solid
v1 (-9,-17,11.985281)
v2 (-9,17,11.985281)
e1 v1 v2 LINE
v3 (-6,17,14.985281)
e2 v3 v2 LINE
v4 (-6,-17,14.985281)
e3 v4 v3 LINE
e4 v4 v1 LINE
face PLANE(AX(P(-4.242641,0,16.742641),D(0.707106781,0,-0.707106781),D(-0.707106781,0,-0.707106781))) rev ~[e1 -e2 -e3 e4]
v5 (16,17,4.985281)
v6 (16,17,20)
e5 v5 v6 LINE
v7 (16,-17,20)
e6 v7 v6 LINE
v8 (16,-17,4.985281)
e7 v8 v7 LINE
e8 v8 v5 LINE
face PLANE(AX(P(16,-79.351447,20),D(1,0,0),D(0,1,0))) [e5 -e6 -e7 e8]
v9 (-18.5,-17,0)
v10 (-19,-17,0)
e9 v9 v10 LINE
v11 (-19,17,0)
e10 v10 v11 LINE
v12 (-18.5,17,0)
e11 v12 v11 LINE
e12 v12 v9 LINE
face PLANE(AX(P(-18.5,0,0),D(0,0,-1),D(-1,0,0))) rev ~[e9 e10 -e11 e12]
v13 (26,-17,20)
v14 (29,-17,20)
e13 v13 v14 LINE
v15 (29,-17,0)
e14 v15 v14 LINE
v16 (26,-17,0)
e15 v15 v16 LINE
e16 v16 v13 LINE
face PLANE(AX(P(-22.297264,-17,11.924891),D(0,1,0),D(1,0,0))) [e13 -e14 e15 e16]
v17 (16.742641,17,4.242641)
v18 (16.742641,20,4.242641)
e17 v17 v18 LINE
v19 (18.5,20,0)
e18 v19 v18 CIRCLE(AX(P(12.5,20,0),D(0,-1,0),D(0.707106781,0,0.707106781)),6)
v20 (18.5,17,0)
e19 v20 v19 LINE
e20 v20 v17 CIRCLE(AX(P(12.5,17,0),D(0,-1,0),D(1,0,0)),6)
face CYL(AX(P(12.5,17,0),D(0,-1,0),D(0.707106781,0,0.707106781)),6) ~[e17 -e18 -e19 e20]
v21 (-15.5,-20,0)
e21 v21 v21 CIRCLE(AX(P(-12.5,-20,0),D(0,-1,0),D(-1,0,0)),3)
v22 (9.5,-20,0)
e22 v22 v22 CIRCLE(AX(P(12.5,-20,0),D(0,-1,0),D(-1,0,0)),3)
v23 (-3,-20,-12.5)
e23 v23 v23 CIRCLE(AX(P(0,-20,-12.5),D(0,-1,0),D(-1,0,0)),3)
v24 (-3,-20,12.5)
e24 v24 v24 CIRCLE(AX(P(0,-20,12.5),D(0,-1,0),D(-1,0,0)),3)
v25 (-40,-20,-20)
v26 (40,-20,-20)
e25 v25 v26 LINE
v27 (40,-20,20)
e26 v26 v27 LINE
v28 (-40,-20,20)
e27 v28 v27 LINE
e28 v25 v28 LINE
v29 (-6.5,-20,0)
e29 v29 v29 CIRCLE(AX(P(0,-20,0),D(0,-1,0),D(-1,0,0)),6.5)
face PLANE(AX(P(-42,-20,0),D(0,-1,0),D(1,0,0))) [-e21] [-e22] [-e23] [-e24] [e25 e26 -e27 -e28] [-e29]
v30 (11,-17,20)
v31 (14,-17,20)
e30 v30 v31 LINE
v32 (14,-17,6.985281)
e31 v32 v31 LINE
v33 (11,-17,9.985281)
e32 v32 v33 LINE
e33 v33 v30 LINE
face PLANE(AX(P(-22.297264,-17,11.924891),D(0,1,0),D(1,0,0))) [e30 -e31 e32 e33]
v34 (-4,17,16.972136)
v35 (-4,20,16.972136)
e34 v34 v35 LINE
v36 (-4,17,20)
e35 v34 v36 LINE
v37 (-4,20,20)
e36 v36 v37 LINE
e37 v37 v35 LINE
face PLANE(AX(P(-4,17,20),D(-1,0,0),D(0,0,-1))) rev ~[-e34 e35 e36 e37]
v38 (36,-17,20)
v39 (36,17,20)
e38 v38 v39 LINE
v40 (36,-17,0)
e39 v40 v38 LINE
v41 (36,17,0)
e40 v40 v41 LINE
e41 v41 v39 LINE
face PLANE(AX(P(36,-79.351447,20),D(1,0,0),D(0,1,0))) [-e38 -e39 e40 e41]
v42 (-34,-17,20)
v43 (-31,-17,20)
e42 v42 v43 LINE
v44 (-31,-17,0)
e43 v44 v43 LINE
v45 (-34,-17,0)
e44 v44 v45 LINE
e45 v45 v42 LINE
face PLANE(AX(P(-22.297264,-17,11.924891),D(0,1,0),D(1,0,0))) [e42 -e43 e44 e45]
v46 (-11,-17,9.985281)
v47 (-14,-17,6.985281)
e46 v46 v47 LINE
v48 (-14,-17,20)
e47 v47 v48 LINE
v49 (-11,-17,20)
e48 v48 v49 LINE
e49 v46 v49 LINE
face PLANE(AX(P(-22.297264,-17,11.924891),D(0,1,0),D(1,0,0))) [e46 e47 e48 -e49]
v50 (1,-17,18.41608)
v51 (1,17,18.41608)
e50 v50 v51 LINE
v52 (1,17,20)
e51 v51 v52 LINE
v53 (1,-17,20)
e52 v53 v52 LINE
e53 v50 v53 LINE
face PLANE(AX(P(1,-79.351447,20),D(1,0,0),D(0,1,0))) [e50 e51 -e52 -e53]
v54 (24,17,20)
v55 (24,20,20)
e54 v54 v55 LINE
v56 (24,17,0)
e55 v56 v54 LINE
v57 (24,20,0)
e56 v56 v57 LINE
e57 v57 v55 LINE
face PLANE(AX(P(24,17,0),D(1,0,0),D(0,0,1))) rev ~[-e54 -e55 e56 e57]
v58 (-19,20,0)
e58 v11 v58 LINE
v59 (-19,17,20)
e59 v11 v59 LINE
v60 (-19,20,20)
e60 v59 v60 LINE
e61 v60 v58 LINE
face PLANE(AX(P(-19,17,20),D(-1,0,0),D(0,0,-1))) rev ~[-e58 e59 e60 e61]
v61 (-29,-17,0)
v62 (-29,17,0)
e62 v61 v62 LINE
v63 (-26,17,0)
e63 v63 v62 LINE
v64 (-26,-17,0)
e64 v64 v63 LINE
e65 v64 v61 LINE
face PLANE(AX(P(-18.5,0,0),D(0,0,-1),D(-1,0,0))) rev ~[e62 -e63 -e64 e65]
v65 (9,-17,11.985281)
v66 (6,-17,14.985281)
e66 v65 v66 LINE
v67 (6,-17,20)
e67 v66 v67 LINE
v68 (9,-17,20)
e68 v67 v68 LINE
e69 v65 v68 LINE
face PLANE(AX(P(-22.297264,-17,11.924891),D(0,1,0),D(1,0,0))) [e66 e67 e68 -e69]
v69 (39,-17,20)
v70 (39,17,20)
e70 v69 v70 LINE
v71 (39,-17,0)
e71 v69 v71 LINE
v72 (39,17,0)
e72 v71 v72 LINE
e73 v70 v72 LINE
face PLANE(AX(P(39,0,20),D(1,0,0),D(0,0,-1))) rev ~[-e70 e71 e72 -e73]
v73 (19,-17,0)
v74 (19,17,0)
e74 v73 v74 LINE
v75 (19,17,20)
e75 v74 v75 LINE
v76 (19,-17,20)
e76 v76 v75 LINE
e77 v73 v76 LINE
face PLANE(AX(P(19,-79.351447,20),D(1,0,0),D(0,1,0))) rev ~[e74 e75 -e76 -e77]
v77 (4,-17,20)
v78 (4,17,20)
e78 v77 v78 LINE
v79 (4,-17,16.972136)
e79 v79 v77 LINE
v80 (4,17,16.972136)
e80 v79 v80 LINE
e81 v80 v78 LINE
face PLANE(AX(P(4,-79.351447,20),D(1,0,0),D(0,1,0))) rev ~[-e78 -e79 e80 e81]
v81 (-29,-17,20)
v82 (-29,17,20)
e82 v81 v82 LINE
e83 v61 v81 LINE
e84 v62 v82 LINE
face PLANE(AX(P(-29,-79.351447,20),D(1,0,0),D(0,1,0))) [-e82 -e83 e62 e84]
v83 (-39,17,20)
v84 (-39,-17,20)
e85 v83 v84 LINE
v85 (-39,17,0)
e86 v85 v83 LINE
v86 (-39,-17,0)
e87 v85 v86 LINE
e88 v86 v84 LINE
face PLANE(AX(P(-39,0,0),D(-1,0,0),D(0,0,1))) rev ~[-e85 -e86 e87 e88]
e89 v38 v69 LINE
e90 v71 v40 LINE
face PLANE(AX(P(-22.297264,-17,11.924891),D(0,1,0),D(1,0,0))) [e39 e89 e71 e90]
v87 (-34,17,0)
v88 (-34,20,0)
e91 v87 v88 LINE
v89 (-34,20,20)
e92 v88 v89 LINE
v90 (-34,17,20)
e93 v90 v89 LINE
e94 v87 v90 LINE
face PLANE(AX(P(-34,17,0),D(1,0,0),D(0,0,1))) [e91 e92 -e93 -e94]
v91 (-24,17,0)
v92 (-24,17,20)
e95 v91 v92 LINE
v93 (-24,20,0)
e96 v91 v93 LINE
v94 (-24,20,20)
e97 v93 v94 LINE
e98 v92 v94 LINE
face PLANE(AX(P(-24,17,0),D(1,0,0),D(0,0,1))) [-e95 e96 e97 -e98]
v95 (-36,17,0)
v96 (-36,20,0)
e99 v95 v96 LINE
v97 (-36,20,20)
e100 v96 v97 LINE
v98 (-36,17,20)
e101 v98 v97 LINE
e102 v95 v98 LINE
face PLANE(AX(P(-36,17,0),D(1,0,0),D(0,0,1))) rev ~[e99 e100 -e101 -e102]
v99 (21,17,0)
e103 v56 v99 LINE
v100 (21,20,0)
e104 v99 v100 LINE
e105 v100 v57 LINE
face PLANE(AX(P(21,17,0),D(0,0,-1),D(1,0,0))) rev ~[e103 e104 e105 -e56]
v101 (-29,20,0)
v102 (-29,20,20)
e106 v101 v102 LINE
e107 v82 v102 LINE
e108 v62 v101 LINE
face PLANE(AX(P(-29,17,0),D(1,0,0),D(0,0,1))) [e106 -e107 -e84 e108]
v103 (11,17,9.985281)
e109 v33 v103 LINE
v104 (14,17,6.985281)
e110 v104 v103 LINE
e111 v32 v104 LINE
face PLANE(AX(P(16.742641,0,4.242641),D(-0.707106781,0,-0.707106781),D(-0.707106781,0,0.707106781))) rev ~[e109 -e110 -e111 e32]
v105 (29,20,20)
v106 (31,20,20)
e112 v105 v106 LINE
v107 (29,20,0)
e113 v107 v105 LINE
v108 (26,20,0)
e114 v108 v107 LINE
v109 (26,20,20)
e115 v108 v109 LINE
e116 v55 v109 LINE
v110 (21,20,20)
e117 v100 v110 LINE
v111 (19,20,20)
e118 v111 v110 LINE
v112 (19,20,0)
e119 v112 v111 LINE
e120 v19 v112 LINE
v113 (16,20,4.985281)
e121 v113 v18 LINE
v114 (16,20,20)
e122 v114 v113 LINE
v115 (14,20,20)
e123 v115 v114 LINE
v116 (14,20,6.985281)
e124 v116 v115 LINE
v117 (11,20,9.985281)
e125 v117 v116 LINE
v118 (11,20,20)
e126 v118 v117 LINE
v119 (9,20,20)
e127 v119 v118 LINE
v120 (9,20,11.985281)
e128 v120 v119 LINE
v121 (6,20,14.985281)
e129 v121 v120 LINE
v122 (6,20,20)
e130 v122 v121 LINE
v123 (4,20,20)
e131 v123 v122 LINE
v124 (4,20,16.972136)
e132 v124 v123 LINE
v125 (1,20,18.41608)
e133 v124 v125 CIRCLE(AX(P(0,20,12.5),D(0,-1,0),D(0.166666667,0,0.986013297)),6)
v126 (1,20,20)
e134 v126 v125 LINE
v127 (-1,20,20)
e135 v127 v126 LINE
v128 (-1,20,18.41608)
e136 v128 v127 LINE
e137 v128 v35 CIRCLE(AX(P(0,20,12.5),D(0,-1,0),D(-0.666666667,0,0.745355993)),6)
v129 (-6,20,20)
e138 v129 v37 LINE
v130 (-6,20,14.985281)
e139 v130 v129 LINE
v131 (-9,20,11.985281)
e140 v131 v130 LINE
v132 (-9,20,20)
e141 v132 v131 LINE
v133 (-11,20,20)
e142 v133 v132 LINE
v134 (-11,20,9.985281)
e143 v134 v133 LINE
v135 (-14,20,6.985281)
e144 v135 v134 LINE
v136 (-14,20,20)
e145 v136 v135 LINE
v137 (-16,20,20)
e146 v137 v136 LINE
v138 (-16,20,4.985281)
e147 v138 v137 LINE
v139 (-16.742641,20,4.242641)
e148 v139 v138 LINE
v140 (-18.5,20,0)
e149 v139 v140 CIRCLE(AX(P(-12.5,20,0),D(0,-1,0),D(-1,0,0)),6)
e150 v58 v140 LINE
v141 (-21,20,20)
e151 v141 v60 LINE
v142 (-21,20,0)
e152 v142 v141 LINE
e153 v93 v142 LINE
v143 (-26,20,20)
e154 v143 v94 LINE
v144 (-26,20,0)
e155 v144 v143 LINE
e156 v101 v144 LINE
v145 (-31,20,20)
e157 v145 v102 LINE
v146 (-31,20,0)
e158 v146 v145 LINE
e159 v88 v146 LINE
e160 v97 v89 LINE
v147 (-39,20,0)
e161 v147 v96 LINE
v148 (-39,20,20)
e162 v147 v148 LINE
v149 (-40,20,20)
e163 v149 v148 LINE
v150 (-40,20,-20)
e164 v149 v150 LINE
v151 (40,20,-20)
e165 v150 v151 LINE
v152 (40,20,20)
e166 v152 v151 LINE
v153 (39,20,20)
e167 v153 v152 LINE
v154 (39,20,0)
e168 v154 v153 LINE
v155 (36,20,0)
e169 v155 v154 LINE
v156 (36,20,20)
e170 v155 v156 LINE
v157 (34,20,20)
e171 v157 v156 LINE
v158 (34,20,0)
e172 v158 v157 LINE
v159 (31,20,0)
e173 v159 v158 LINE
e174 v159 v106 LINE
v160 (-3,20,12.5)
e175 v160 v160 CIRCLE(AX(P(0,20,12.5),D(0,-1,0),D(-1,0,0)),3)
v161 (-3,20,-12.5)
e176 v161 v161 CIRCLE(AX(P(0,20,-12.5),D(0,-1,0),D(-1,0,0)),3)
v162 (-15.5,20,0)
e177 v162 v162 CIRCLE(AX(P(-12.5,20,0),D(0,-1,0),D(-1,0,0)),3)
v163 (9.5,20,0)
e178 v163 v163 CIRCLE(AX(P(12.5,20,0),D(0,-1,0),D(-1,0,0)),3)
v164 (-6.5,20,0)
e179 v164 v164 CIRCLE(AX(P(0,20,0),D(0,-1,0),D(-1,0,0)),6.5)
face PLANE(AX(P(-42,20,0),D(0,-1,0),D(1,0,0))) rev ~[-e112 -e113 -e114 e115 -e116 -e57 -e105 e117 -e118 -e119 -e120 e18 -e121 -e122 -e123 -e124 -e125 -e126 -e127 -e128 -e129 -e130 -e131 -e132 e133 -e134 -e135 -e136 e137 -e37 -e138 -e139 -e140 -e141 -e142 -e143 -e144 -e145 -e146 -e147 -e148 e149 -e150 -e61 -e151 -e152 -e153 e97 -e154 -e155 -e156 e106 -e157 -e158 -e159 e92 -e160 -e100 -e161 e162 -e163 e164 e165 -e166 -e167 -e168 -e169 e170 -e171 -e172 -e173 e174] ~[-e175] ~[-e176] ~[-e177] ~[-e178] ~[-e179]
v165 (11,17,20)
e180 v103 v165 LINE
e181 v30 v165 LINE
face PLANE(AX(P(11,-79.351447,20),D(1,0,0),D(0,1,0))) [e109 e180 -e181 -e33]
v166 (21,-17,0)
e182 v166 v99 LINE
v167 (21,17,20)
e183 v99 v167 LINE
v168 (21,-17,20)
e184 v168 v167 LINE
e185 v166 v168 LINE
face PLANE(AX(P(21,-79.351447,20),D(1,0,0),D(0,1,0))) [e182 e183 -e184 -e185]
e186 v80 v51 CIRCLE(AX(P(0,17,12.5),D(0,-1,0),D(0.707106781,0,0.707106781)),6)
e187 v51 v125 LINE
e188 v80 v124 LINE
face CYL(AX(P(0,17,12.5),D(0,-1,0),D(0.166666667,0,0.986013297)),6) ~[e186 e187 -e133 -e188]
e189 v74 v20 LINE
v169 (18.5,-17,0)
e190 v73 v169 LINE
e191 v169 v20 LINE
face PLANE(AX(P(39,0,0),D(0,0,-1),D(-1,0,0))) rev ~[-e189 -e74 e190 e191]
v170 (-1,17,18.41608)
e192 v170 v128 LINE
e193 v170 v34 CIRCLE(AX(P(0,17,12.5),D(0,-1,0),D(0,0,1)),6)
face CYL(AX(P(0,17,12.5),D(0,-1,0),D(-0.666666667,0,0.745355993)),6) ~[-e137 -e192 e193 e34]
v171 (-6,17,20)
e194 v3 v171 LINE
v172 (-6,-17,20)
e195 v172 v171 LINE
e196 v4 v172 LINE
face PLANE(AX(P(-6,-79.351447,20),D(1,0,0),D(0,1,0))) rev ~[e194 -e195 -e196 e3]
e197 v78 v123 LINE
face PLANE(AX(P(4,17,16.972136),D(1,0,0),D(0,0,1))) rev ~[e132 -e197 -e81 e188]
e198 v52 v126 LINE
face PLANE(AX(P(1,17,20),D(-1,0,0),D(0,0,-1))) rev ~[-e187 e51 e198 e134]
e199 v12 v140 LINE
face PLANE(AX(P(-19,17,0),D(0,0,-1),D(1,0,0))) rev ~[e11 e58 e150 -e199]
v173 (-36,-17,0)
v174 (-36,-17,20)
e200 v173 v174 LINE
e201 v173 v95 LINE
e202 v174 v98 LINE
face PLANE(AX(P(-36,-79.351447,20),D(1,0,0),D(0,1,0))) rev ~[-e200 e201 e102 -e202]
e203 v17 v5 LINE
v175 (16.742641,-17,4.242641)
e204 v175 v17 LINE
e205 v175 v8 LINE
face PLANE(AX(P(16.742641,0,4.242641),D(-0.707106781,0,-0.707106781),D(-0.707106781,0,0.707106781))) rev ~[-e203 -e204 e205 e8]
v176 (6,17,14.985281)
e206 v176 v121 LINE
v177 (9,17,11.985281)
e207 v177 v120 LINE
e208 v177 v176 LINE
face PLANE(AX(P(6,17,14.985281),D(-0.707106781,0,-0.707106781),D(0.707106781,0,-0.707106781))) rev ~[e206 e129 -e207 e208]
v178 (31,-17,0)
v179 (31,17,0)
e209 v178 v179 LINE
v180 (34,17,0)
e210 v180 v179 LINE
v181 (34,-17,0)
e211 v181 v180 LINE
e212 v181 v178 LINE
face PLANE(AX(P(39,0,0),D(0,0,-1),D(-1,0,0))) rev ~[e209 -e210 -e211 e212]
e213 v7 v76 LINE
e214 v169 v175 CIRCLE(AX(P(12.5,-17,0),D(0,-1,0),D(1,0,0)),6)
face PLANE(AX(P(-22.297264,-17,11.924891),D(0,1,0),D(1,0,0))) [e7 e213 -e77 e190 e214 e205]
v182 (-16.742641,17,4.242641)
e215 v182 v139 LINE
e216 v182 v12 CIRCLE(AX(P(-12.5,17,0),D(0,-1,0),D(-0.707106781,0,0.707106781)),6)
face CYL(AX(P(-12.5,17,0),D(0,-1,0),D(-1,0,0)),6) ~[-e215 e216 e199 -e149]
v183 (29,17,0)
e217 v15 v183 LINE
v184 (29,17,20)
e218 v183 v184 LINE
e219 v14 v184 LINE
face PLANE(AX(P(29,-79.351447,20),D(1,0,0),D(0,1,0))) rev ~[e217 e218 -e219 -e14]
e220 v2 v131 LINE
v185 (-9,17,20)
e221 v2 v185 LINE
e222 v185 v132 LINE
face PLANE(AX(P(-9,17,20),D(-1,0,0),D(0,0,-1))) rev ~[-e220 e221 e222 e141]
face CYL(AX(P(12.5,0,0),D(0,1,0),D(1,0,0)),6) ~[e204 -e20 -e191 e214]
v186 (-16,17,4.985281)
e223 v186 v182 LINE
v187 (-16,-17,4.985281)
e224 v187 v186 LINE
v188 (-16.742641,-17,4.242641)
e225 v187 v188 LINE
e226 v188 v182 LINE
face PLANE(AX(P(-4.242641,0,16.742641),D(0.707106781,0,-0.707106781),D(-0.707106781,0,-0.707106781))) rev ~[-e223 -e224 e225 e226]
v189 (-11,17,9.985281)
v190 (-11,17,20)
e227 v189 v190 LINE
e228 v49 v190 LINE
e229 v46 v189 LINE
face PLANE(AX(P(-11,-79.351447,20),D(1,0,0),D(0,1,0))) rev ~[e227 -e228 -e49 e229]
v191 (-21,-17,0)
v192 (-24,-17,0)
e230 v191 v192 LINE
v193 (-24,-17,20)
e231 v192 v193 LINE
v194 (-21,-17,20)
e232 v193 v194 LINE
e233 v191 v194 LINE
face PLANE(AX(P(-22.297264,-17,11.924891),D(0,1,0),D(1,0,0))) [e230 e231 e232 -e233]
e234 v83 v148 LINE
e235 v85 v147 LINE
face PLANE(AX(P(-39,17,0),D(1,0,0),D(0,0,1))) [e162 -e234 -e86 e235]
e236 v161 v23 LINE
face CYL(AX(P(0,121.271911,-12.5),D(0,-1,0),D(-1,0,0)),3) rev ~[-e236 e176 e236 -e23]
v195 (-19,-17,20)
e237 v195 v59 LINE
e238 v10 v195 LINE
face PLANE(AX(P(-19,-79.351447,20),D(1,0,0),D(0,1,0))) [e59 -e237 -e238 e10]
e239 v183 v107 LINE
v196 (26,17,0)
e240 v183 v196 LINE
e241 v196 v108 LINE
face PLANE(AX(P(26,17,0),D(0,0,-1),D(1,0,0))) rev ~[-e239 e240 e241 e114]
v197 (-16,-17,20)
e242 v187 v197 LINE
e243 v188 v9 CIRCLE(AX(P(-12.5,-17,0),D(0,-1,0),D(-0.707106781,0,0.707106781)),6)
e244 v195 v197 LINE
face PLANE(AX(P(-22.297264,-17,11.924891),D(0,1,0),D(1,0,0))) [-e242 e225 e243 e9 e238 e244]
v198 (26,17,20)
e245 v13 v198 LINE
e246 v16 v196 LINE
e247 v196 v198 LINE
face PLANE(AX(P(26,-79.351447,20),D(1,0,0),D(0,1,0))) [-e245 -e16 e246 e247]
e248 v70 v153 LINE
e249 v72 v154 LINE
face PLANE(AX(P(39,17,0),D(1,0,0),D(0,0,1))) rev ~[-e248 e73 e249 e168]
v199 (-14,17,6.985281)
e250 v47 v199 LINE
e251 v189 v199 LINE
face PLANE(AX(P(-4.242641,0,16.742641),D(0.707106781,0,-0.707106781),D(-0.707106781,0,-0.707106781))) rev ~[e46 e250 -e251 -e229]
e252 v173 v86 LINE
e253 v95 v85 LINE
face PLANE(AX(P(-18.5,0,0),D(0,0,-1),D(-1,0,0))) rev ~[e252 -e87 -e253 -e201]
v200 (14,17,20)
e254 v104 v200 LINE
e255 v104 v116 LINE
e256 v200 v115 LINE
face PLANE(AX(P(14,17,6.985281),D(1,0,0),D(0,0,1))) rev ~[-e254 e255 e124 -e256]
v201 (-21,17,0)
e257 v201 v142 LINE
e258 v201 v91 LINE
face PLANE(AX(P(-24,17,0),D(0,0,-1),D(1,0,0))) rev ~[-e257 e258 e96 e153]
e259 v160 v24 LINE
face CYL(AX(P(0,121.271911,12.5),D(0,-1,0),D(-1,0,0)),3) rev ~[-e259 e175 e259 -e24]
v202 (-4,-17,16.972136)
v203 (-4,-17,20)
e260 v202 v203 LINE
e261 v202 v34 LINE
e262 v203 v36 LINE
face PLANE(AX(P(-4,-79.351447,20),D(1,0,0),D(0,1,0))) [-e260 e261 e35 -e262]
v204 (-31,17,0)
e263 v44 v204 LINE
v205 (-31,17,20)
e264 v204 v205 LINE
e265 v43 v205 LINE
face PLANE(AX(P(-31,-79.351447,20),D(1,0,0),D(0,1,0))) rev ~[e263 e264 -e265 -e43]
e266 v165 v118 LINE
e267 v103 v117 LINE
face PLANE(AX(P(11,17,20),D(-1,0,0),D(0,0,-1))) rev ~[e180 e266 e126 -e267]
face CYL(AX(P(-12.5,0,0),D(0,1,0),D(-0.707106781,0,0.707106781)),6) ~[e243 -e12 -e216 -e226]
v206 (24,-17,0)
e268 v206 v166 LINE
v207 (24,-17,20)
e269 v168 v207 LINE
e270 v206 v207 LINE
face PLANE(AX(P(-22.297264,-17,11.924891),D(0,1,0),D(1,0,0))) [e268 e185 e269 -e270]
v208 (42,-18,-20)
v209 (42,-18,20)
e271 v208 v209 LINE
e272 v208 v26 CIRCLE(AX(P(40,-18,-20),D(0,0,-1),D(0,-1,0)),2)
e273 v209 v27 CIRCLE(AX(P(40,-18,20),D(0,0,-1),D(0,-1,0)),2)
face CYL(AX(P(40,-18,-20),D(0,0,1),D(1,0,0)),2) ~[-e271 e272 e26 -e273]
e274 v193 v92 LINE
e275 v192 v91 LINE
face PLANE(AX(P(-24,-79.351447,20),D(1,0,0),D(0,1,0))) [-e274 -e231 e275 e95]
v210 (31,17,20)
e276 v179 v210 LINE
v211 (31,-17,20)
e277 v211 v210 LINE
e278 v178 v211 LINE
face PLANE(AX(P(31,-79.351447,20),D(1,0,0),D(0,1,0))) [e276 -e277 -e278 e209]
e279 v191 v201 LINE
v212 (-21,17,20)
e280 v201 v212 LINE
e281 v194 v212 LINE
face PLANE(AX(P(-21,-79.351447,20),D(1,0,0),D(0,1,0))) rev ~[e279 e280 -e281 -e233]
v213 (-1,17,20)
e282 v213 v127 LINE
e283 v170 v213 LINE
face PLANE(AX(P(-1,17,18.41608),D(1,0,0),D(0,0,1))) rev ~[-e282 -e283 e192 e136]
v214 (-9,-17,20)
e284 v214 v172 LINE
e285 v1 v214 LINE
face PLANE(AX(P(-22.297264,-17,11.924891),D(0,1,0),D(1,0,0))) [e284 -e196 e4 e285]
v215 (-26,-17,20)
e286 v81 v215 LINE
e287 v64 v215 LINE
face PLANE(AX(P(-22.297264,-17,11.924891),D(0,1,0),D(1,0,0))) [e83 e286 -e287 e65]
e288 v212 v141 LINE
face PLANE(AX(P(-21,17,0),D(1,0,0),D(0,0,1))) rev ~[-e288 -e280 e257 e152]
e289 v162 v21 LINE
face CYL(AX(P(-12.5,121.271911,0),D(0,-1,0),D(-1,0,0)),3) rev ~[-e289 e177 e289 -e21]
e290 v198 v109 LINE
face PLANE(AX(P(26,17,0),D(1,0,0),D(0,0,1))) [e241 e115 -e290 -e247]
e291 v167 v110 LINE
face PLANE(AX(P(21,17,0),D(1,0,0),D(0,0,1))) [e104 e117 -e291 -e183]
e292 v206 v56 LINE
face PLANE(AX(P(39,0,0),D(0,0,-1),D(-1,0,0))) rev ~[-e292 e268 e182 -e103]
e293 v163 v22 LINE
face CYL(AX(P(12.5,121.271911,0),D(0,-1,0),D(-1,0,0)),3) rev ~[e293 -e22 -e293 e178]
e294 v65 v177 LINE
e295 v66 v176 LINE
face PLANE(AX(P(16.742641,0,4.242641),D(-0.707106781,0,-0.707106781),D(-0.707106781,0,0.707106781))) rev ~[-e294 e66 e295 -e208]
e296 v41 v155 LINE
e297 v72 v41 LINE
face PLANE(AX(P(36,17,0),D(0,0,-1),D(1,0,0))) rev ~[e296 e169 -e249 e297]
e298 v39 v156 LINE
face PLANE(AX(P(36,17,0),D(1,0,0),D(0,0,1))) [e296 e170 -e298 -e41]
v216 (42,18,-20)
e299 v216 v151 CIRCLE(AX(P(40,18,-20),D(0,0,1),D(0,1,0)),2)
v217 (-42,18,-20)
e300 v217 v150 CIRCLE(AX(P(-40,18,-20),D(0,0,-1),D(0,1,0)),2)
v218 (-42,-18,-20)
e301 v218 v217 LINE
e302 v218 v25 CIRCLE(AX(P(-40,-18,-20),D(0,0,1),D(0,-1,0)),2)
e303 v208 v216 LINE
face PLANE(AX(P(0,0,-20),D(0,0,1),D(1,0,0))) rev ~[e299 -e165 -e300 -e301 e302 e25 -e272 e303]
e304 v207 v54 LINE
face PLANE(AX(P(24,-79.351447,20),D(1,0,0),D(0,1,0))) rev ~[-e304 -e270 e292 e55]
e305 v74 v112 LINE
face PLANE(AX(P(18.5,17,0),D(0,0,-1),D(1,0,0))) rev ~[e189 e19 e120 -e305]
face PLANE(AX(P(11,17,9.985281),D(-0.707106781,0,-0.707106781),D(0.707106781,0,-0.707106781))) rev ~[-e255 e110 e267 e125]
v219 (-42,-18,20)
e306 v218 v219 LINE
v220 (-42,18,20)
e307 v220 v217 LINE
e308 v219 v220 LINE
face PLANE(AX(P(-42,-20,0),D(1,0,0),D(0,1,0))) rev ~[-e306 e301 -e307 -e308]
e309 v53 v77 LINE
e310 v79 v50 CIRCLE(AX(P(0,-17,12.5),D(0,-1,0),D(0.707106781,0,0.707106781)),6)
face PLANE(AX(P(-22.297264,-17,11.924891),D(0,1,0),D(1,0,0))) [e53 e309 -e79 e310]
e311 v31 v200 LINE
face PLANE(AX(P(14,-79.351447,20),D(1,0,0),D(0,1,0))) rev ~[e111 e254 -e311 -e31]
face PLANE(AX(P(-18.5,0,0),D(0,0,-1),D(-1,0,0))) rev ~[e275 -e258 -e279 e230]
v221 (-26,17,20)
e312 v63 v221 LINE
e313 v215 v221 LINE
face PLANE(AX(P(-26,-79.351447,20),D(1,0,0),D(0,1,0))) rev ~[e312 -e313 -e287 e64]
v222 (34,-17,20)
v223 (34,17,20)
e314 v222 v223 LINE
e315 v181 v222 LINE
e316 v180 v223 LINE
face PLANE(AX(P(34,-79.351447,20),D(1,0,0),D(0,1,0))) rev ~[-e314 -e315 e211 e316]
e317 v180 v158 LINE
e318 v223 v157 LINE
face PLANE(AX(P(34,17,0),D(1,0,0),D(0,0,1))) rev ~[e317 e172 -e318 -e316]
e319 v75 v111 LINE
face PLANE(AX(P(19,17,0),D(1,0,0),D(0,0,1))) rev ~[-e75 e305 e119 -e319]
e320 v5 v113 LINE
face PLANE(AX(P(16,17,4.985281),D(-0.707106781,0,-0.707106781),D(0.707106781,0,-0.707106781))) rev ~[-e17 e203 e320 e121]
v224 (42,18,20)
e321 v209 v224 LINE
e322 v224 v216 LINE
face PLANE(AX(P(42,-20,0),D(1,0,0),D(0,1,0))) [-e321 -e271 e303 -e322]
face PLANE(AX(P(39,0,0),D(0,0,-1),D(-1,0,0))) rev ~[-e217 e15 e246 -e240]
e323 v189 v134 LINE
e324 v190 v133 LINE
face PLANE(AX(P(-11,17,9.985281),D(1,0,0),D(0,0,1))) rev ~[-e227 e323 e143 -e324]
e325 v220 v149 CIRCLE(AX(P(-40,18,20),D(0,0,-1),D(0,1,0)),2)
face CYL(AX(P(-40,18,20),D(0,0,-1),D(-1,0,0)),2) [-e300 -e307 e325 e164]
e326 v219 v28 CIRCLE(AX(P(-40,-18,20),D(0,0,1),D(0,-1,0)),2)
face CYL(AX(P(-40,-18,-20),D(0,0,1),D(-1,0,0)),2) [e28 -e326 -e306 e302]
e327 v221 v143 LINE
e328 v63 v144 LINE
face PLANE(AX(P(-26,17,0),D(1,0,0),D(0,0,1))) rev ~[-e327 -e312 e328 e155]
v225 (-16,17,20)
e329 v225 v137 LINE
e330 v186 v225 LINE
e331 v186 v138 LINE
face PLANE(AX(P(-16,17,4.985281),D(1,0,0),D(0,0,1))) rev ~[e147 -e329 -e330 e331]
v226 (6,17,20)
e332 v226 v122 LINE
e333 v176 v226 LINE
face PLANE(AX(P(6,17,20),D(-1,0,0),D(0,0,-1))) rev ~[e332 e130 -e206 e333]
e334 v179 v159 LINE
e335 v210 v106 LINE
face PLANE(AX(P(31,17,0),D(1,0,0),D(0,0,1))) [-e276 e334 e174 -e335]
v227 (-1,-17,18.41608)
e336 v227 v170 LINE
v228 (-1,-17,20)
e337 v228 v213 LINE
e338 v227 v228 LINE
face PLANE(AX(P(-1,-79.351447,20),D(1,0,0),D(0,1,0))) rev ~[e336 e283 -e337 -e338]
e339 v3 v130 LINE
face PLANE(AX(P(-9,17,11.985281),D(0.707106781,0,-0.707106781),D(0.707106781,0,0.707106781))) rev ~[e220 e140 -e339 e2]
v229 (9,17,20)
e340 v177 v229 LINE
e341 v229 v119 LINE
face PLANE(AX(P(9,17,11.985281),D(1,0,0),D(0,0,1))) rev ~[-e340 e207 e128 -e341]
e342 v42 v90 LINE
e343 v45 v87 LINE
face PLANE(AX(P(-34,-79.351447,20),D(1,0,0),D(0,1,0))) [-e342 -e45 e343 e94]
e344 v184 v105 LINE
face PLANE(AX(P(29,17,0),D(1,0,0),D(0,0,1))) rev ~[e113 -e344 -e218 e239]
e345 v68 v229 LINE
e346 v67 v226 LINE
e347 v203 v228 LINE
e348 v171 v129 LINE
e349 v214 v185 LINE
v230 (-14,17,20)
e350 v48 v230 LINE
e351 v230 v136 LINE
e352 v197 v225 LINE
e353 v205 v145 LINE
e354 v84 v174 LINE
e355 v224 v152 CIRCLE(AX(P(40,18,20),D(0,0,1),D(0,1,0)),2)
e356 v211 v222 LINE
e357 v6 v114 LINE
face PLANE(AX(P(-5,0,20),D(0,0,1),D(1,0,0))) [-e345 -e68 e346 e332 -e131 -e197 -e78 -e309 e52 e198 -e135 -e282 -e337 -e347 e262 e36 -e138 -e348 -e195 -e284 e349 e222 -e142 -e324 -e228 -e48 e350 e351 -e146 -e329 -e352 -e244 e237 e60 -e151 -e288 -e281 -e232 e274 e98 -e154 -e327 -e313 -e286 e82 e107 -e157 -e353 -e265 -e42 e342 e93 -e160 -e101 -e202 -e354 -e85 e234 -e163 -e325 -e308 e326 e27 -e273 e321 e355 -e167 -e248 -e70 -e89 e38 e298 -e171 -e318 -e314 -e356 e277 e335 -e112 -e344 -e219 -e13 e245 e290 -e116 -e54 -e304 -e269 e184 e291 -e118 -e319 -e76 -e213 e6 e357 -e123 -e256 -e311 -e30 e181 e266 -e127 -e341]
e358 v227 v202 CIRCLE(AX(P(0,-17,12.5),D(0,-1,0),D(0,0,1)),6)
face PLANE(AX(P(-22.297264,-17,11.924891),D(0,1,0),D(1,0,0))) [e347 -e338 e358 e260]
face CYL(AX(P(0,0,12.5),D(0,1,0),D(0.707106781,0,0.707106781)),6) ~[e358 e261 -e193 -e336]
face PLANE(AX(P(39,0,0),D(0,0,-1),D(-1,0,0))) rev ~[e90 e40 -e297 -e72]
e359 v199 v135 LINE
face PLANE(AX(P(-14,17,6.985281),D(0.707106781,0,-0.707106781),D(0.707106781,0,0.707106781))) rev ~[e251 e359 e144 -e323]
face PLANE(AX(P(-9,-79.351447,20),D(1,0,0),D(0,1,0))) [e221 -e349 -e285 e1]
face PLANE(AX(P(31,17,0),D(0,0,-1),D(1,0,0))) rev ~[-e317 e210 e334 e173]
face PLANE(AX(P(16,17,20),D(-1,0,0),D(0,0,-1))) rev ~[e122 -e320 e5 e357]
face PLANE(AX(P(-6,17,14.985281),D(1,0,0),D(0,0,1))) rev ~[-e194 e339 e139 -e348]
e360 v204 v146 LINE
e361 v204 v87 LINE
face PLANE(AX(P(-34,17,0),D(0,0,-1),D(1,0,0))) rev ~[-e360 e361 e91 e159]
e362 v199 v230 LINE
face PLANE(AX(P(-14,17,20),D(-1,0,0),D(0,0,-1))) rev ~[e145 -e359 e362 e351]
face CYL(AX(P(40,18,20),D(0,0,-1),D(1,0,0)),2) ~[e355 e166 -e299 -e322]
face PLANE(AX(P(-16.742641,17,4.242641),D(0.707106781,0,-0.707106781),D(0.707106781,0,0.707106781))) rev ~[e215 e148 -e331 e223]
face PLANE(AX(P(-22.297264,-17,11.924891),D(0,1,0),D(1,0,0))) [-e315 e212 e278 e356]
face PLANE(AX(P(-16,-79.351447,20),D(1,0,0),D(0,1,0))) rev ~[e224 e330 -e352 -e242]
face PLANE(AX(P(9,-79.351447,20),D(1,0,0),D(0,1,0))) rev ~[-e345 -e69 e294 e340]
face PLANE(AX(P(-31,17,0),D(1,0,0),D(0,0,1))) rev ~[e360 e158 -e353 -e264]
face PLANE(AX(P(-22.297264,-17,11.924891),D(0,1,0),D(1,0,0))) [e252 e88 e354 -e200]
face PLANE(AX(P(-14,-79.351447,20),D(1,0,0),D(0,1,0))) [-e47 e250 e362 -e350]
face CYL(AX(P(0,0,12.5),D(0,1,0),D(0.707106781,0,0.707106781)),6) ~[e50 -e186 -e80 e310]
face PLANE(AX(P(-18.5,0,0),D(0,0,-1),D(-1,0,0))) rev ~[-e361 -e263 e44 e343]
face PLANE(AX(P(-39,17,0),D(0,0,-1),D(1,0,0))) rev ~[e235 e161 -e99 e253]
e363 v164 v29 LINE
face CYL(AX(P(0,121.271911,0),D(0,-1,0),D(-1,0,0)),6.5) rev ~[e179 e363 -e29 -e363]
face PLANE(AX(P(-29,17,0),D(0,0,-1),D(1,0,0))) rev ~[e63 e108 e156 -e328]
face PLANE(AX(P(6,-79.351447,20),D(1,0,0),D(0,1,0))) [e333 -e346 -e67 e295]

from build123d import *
from build123d.topology import SkipClean

# Parameters (mm, degrees)
SKETCH1_W           = 84
SKETCH1_H           = 40
BOSS_EXTRUDE1_DEPTH = 20
FILLET1_R           = 2
HOLE1_D             = 13
HOLE2_D             = 6
CUT_EXTRUDE2_DEPTH  = 17
RIB1_REACH          = 63.351
SKETCH10_WALLS_W    = 2
SKETCH10_WALLS_H    = 158.702893202
SKETCH12_W          = 3
SKETCH12_H          = 20
CUT_EXTRUDE3_DEPTH  = 60.439044407


with BuildPart() as part:
    # Sketch1 → Boss-Extrude1 (new, symmetric)
    with BuildSketch(Plane.XY):
        Rectangle(SKETCH1_W, SKETCH1_H)
    extrude(amount=BOSS_EXTRUDE1_DEPTH, both=True)

    # Fillet1
    fillet1_edges = [part.edges().sort_by_distance(p)[0] for p in [
        (42, -20, 0),
        (-42, -20, 0),
        (-42, 20, 0),
        (42, 20, 0),
    ]]
    fillet(fillet1_edges, radius=FILLET1_R)

    # Hole1 (through all)
    with Locations(Plane(origin=(0, 20, 0), x_dir=(1, 0, 0), z_dir=(0, 1, 0))):
        with Locations((0, 0)):
            Hole(HOLE1_D / 2)

    # Hole2 (through all)
    with Locations(Plane(origin=(0, 20, 0), x_dir=(1, 0, 0), z_dir=(0, 1, 0))):
        with Locations((12.5, 0), (0, -12.5), (-12.5, 0), (0, 12.5), (0, 0)):
            Hole(HOLE2_D / 2)

    # Sketch9 → Cut-Extrude2 (cut, symmetric)
    with BuildSketch(Plane(origin=(0, 0, 0), x_dir=(1, 0, 0), z_dir=(0, 1, 0))):
        with BuildLine():
            Line((-39, -20), (0, -20))
            Line((0, -20), (0, -18.5))
            ThreePointArc((0, -18.5), (-2.296100594, -18.043277195), (-4.242640687, -16.742640687))
            Line((-4.242640687, -16.742640687), (-16.742640687, -4.242640687))
            ThreePointArc((-16.742640687, -4.242640687), (-18.043277195, -2.296100594), (-18.5, 0))
            Line((-18.5, 0), (-39, 0))
            Line((-39, 0), (-39, -20))
        make_face()
        with BuildLine():
            Line((39, 0), (18.5, 0))
            ThreePointArc((18.5, 0), (18.043277195, -2.296100594), (16.742640687, -4.242640687))
            Line((16.742640687, -4.242640687), (4.242640687, -16.742640687))
            ThreePointArc((4.242640687, -16.742640687), (2.296100594, -18.043277195), (0, -18.5))
            Line((0, -18.5), (0, -20))
            Line((0, -20), (39, -20))
            Line((39, -20), (39, 0))
        make_face()
    extrude(amount=CUT_EXTRUDE2_DEPTH, both=True, mode=Mode.SUBTRACT)

    # Sketch10 walls → Rib1 (add, up to next)
    with BuildSketch(Plane.XY.offset(20), mode=Mode.PRIVATE) as rib1_sk1:
        Rectangle(SKETCH10_WALLS_W, SKETCH10_WALLS_H)
    rib1_tool1 = extrude(rib1_sk1.sketch, amount=-RIB1_REACH, mode=Mode.PRIVATE) - part.part
    # Sketch10 walls → Rib1 (add, up to next)
    with BuildSketch(Plane.XY.offset(20), mode=Mode.PRIVATE) as rib1_sk2:
        with Locations((5, 0)):
            Rectangle(SKETCH10_WALLS_W, SKETCH10_WALLS_H)
    rib1_tool2 = extrude(rib1_sk2.sketch, amount=-RIB1_REACH, mode=Mode.PRIVATE) - part.part
    # Sketch10 walls → Rib1 (add, up to next)
    with BuildSketch(Plane.XY.offset(20), mode=Mode.PRIVATE) as rib1_sk3:
        with Locations((10, 0)):
            Rectangle(SKETCH10_WALLS_W, SKETCH10_WALLS_H)
    rib1_tool3 = extrude(rib1_sk3.sketch, amount=-RIB1_REACH, mode=Mode.PRIVATE) - part.part
    # Sketch10 walls → Rib1 (add, up to next)
    with BuildSketch(Plane.XY.offset(20), mode=Mode.PRIVATE) as rib1_sk4:
        with Locations((15, 0)):
            Rectangle(SKETCH10_WALLS_W, SKETCH10_WALLS_H)
    rib1_tool4 = extrude(rib1_sk4.sketch, amount=-RIB1_REACH, mode=Mode.PRIVATE) - part.part
    # Sketch10 walls → Rib1 (add, up to next)
    with BuildSketch(Plane.XY.offset(20), mode=Mode.PRIVATE) as rib1_sk5:
        with Locations((20, 0)):
            Rectangle(SKETCH10_WALLS_W, SKETCH10_WALLS_H)
    rib1_tool5 = extrude(rib1_sk5.sketch, amount=-RIB1_REACH, mode=Mode.PRIVATE) - part.part
    # Sketch10 walls → Rib1 (add, up to next)
    with BuildSketch(Plane.XY.offset(20), mode=Mode.PRIVATE) as rib1_sk6:
        with Locations((25, 0)):
            Rectangle(SKETCH10_WALLS_W, SKETCH10_WALLS_H)
    rib1_tool6 = extrude(rib1_sk6.sketch, amount=-RIB1_REACH, mode=Mode.PRIVATE) - part.part
    # Sketch10 walls → Rib1 (add, up to next)
    with BuildSketch(Plane.XY.offset(20), mode=Mode.PRIVATE) as rib1_sk7:
        with Locations((30, 0)):
            Rectangle(SKETCH10_WALLS_W, SKETCH10_WALLS_H)
    rib1_tool7 = extrude(rib1_sk7.sketch, amount=-RIB1_REACH, mode=Mode.PRIVATE) - part.part
    # Sketch10 walls → Rib1 (add, up to next)
    with BuildSketch(Plane.XY.offset(20), mode=Mode.PRIVATE) as rib1_sk8:
        with Locations((35, 0)):
            Rectangle(SKETCH10_WALLS_W, SKETCH10_WALLS_H)
    rib1_tool8 = extrude(rib1_sk8.sketch, amount=-RIB1_REACH, mode=Mode.PRIVATE) - part.part
    # Sketch10 walls → Rib1 (add, up to next)
    with BuildSketch(Plane.XY.offset(20), mode=Mode.PRIVATE) as rib1_sk9:
        with Locations((-25, 0)):
            Rectangle(SKETCH10_WALLS_W, SKETCH10_WALLS_H)
    rib1_tool9 = extrude(rib1_sk9.sketch, amount=-RIB1_REACH, mode=Mode.PRIVATE) - part.part
    # Sketch10 walls → Rib1 (add, up to next)
    with BuildSketch(Plane.XY.offset(20), mode=Mode.PRIVATE) as rib1_sk10:
        with Locations((-20, 0)):
            Rectangle(SKETCH10_WALLS_W, SKETCH10_WALLS_H)
    rib1_tool10 = extrude(rib1_sk10.sketch, amount=-RIB1_REACH, mode=Mode.PRIVATE) - part.part
    # Sketch10 walls → Rib1 (add, up to next)
    with BuildSketch(Plane.XY.offset(20), mode=Mode.PRIVATE) as rib1_sk11:
        with Locations((-15, 0)):
            Rectangle(SKETCH10_WALLS_W, SKETCH10_WALLS_H)
    rib1_tool11 = extrude(rib1_sk11.sketch, amount=-RIB1_REACH, mode=Mode.PRIVATE) - part.part
    # Sketch10 walls → Rib1 (add, up to next)
    with BuildSketch(Plane.XY.offset(20), mode=Mode.PRIVATE) as rib1_sk12:
        with Locations((-10, 0)):
            Rectangle(SKETCH10_WALLS_W, SKETCH10_WALLS_H)
    rib1_tool12 = extrude(rib1_sk12.sketch, amount=-RIB1_REACH, mode=Mode.PRIVATE) - part.part
    # Sketch10 walls → Rib1 (add, up to next)
    with BuildSketch(Plane.XY.offset(20), mode=Mode.PRIVATE) as rib1_sk13:
        with Locations((-5, 0)):
            Rectangle(SKETCH10_WALLS_W, SKETCH10_WALLS_H)
    rib1_tool13 = extrude(rib1_sk13.sketch, amount=-RIB1_REACH, mode=Mode.PRIVATE) - part.part
    # Sketch10 walls → Rib1 (add, up to next)
    with BuildSketch(Plane.XY.offset(20), mode=Mode.PRIVATE) as rib1_sk14:
        with Locations((-30, 0)):
            Rectangle(SKETCH10_WALLS_W, SKETCH10_WALLS_H)
    rib1_tool14 = extrude(rib1_sk14.sketch, amount=-RIB1_REACH, mode=Mode.PRIVATE) - part.part
    # Sketch10 walls → Rib1 (add, up to next)
    with BuildSketch(Plane.XY.offset(20), mode=Mode.PRIVATE) as rib1_sk15:
        with Locations((-35, 0)):
            Rectangle(SKETCH10_WALLS_W, SKETCH10_WALLS_H)
    rib1_tool15 = extrude(rib1_sk15.sketch, amount=-RIB1_REACH, mode=Mode.PRIVATE) - part.part
    add(rib1_tool1.solids().sort_by_distance((0, 0, 20))[0])
    add(rib1_tool2.solids().sort_by_distance((5, 0, 20))[0])
    add(rib1_tool3.solids().sort_by_distance((10, 0, 20))[0])
    add(rib1_tool4.solids().sort_by_distance((15, 0, 20))[0])
    add(rib1_tool5.solids().sort_by_distance((20, 0, 20))[0])
    add(rib1_tool6.solids().sort_by_distance((25, 0, 20))[0])
    add(rib1_tool7.solids().sort_by_distance((30, 0, 20))[0])
    add(rib1_tool8.solids().sort_by_distance((35, 0, 20))[0])
    add(rib1_tool9.solids().sort_by_distance((-25, 0, 20))[0])
    add(rib1_tool10.solids().sort_by_distance((-20, 0, 20))[0])
    add(rib1_tool11.solids().sort_by_distance((-15, 0, 20))[0])
    add(rib1_tool12.solids().sort_by_distance((-10, 0, 20))[0])
    add(rib1_tool13.solids().sort_by_distance((-5, 0, 20))[0])
    add(rib1_tool14.solids().sort_by_distance((-30, 0, 20))[0])
    add(rib1_tool15.solids().sort_by_distance((-35, 0, 20))[0])

    # Sketch12 → Cut-Extrude3 (cut, through all)
    with SkipClean():  # the faces are left unmerged after this step: merging them gives an invalid solid
        with BuildSketch(Plane.XZ.offset(-17)):
            with Locations((37.5, 10)):
                Rectangle(SKETCH12_W, SKETCH12_H)
            with Locations((32.5, 10)):
                Rectangle(SKETCH12_W, SKETCH12_H)
            with Locations((27.5, 10)):
                Rectangle(SKETCH12_W, SKETCH12_H)
            with Locations((22.5, 10)):
                Rectangle(SKETCH12_W, SKETCH12_H)
            with BuildLine():
                Line((18.5, 0), (19, 0))
                Line((19, 0), (19, 20))
                Line((19, 20), (16, 20))
                Line((16, 20), (16, 4.985281374))
                Line((16, 4.985281374), (16.742640687, 4.242640687))
                ThreePointArc((16.742640687, 4.242640687), (18.043277195, 2.296100594), (18.5, 0))
            make_face()
            Polygon((11, 9.985281374), (14, 6.985281374), (14, 20), (11, 20), align=None)
            Polygon((6, 14.985281374), (9, 11.985281374), (9, 20), (6, 20), align=None)
            with BuildLine():
                Line((4, 16.972135955), (4, 20))
                Line((4, 20), (1, 20))
                Line((1, 20), (1, 18.416079783))
                ThreePointArc((1, 18.416079783), (2.602161303, 17.906362599), (4, 16.972135955))
            make_face()
            with BuildLine():
                Line((-4, 20), (-4, 16.972135955))
                ThreePointArc((-4, 16.972135955), (-2.602161303, 17.906362599), (-1, 18.416079783))
                Line((-1, 18.416079783), (-1, 20))
                Line((-1, 20), (-4, 20))
            make_face()
            Polygon((-9, 11.985281374), (-6, 14.985281374), (-6, 20), (-9, 20), align=None)
            Polygon((-14, 6.985281374), (-11, 9.985281374), (-11, 20), (-14, 20), align=None)
            with BuildLine():
                Line((-16.742640687, 4.242640687), (-16, 4.985281374))
                Line((-16, 4.985281374), (-16, 20))
                Line((-16, 20), (-19, 20))
                Line((-19, 20), (-19, 0))
                Line((-19, 0), (-18.5, 0))
                ThreePointArc((-18.5, 0), (-18.043277195, 2.296100594), (-16.742640687, 4.242640687))
            make_face()
            with Locations((-22.5, 10)):
                Rectangle(SKETCH12_W, SKETCH12_H)
            with Locations((-27.5, 10)):
                Rectangle(SKETCH12_W, SKETCH12_H)
            with Locations((-32.5, 10)):
                Rectangle(SKETCH12_W, SKETCH12_H)
            with Locations((-37.5, 10)):
                Rectangle(SKETCH12_W, SKETCH12_H)
        extrude(amount=-CUT_EXTRUDE3_DEPTH, mode=Mode.SUBTRACT)


solid = part.part
